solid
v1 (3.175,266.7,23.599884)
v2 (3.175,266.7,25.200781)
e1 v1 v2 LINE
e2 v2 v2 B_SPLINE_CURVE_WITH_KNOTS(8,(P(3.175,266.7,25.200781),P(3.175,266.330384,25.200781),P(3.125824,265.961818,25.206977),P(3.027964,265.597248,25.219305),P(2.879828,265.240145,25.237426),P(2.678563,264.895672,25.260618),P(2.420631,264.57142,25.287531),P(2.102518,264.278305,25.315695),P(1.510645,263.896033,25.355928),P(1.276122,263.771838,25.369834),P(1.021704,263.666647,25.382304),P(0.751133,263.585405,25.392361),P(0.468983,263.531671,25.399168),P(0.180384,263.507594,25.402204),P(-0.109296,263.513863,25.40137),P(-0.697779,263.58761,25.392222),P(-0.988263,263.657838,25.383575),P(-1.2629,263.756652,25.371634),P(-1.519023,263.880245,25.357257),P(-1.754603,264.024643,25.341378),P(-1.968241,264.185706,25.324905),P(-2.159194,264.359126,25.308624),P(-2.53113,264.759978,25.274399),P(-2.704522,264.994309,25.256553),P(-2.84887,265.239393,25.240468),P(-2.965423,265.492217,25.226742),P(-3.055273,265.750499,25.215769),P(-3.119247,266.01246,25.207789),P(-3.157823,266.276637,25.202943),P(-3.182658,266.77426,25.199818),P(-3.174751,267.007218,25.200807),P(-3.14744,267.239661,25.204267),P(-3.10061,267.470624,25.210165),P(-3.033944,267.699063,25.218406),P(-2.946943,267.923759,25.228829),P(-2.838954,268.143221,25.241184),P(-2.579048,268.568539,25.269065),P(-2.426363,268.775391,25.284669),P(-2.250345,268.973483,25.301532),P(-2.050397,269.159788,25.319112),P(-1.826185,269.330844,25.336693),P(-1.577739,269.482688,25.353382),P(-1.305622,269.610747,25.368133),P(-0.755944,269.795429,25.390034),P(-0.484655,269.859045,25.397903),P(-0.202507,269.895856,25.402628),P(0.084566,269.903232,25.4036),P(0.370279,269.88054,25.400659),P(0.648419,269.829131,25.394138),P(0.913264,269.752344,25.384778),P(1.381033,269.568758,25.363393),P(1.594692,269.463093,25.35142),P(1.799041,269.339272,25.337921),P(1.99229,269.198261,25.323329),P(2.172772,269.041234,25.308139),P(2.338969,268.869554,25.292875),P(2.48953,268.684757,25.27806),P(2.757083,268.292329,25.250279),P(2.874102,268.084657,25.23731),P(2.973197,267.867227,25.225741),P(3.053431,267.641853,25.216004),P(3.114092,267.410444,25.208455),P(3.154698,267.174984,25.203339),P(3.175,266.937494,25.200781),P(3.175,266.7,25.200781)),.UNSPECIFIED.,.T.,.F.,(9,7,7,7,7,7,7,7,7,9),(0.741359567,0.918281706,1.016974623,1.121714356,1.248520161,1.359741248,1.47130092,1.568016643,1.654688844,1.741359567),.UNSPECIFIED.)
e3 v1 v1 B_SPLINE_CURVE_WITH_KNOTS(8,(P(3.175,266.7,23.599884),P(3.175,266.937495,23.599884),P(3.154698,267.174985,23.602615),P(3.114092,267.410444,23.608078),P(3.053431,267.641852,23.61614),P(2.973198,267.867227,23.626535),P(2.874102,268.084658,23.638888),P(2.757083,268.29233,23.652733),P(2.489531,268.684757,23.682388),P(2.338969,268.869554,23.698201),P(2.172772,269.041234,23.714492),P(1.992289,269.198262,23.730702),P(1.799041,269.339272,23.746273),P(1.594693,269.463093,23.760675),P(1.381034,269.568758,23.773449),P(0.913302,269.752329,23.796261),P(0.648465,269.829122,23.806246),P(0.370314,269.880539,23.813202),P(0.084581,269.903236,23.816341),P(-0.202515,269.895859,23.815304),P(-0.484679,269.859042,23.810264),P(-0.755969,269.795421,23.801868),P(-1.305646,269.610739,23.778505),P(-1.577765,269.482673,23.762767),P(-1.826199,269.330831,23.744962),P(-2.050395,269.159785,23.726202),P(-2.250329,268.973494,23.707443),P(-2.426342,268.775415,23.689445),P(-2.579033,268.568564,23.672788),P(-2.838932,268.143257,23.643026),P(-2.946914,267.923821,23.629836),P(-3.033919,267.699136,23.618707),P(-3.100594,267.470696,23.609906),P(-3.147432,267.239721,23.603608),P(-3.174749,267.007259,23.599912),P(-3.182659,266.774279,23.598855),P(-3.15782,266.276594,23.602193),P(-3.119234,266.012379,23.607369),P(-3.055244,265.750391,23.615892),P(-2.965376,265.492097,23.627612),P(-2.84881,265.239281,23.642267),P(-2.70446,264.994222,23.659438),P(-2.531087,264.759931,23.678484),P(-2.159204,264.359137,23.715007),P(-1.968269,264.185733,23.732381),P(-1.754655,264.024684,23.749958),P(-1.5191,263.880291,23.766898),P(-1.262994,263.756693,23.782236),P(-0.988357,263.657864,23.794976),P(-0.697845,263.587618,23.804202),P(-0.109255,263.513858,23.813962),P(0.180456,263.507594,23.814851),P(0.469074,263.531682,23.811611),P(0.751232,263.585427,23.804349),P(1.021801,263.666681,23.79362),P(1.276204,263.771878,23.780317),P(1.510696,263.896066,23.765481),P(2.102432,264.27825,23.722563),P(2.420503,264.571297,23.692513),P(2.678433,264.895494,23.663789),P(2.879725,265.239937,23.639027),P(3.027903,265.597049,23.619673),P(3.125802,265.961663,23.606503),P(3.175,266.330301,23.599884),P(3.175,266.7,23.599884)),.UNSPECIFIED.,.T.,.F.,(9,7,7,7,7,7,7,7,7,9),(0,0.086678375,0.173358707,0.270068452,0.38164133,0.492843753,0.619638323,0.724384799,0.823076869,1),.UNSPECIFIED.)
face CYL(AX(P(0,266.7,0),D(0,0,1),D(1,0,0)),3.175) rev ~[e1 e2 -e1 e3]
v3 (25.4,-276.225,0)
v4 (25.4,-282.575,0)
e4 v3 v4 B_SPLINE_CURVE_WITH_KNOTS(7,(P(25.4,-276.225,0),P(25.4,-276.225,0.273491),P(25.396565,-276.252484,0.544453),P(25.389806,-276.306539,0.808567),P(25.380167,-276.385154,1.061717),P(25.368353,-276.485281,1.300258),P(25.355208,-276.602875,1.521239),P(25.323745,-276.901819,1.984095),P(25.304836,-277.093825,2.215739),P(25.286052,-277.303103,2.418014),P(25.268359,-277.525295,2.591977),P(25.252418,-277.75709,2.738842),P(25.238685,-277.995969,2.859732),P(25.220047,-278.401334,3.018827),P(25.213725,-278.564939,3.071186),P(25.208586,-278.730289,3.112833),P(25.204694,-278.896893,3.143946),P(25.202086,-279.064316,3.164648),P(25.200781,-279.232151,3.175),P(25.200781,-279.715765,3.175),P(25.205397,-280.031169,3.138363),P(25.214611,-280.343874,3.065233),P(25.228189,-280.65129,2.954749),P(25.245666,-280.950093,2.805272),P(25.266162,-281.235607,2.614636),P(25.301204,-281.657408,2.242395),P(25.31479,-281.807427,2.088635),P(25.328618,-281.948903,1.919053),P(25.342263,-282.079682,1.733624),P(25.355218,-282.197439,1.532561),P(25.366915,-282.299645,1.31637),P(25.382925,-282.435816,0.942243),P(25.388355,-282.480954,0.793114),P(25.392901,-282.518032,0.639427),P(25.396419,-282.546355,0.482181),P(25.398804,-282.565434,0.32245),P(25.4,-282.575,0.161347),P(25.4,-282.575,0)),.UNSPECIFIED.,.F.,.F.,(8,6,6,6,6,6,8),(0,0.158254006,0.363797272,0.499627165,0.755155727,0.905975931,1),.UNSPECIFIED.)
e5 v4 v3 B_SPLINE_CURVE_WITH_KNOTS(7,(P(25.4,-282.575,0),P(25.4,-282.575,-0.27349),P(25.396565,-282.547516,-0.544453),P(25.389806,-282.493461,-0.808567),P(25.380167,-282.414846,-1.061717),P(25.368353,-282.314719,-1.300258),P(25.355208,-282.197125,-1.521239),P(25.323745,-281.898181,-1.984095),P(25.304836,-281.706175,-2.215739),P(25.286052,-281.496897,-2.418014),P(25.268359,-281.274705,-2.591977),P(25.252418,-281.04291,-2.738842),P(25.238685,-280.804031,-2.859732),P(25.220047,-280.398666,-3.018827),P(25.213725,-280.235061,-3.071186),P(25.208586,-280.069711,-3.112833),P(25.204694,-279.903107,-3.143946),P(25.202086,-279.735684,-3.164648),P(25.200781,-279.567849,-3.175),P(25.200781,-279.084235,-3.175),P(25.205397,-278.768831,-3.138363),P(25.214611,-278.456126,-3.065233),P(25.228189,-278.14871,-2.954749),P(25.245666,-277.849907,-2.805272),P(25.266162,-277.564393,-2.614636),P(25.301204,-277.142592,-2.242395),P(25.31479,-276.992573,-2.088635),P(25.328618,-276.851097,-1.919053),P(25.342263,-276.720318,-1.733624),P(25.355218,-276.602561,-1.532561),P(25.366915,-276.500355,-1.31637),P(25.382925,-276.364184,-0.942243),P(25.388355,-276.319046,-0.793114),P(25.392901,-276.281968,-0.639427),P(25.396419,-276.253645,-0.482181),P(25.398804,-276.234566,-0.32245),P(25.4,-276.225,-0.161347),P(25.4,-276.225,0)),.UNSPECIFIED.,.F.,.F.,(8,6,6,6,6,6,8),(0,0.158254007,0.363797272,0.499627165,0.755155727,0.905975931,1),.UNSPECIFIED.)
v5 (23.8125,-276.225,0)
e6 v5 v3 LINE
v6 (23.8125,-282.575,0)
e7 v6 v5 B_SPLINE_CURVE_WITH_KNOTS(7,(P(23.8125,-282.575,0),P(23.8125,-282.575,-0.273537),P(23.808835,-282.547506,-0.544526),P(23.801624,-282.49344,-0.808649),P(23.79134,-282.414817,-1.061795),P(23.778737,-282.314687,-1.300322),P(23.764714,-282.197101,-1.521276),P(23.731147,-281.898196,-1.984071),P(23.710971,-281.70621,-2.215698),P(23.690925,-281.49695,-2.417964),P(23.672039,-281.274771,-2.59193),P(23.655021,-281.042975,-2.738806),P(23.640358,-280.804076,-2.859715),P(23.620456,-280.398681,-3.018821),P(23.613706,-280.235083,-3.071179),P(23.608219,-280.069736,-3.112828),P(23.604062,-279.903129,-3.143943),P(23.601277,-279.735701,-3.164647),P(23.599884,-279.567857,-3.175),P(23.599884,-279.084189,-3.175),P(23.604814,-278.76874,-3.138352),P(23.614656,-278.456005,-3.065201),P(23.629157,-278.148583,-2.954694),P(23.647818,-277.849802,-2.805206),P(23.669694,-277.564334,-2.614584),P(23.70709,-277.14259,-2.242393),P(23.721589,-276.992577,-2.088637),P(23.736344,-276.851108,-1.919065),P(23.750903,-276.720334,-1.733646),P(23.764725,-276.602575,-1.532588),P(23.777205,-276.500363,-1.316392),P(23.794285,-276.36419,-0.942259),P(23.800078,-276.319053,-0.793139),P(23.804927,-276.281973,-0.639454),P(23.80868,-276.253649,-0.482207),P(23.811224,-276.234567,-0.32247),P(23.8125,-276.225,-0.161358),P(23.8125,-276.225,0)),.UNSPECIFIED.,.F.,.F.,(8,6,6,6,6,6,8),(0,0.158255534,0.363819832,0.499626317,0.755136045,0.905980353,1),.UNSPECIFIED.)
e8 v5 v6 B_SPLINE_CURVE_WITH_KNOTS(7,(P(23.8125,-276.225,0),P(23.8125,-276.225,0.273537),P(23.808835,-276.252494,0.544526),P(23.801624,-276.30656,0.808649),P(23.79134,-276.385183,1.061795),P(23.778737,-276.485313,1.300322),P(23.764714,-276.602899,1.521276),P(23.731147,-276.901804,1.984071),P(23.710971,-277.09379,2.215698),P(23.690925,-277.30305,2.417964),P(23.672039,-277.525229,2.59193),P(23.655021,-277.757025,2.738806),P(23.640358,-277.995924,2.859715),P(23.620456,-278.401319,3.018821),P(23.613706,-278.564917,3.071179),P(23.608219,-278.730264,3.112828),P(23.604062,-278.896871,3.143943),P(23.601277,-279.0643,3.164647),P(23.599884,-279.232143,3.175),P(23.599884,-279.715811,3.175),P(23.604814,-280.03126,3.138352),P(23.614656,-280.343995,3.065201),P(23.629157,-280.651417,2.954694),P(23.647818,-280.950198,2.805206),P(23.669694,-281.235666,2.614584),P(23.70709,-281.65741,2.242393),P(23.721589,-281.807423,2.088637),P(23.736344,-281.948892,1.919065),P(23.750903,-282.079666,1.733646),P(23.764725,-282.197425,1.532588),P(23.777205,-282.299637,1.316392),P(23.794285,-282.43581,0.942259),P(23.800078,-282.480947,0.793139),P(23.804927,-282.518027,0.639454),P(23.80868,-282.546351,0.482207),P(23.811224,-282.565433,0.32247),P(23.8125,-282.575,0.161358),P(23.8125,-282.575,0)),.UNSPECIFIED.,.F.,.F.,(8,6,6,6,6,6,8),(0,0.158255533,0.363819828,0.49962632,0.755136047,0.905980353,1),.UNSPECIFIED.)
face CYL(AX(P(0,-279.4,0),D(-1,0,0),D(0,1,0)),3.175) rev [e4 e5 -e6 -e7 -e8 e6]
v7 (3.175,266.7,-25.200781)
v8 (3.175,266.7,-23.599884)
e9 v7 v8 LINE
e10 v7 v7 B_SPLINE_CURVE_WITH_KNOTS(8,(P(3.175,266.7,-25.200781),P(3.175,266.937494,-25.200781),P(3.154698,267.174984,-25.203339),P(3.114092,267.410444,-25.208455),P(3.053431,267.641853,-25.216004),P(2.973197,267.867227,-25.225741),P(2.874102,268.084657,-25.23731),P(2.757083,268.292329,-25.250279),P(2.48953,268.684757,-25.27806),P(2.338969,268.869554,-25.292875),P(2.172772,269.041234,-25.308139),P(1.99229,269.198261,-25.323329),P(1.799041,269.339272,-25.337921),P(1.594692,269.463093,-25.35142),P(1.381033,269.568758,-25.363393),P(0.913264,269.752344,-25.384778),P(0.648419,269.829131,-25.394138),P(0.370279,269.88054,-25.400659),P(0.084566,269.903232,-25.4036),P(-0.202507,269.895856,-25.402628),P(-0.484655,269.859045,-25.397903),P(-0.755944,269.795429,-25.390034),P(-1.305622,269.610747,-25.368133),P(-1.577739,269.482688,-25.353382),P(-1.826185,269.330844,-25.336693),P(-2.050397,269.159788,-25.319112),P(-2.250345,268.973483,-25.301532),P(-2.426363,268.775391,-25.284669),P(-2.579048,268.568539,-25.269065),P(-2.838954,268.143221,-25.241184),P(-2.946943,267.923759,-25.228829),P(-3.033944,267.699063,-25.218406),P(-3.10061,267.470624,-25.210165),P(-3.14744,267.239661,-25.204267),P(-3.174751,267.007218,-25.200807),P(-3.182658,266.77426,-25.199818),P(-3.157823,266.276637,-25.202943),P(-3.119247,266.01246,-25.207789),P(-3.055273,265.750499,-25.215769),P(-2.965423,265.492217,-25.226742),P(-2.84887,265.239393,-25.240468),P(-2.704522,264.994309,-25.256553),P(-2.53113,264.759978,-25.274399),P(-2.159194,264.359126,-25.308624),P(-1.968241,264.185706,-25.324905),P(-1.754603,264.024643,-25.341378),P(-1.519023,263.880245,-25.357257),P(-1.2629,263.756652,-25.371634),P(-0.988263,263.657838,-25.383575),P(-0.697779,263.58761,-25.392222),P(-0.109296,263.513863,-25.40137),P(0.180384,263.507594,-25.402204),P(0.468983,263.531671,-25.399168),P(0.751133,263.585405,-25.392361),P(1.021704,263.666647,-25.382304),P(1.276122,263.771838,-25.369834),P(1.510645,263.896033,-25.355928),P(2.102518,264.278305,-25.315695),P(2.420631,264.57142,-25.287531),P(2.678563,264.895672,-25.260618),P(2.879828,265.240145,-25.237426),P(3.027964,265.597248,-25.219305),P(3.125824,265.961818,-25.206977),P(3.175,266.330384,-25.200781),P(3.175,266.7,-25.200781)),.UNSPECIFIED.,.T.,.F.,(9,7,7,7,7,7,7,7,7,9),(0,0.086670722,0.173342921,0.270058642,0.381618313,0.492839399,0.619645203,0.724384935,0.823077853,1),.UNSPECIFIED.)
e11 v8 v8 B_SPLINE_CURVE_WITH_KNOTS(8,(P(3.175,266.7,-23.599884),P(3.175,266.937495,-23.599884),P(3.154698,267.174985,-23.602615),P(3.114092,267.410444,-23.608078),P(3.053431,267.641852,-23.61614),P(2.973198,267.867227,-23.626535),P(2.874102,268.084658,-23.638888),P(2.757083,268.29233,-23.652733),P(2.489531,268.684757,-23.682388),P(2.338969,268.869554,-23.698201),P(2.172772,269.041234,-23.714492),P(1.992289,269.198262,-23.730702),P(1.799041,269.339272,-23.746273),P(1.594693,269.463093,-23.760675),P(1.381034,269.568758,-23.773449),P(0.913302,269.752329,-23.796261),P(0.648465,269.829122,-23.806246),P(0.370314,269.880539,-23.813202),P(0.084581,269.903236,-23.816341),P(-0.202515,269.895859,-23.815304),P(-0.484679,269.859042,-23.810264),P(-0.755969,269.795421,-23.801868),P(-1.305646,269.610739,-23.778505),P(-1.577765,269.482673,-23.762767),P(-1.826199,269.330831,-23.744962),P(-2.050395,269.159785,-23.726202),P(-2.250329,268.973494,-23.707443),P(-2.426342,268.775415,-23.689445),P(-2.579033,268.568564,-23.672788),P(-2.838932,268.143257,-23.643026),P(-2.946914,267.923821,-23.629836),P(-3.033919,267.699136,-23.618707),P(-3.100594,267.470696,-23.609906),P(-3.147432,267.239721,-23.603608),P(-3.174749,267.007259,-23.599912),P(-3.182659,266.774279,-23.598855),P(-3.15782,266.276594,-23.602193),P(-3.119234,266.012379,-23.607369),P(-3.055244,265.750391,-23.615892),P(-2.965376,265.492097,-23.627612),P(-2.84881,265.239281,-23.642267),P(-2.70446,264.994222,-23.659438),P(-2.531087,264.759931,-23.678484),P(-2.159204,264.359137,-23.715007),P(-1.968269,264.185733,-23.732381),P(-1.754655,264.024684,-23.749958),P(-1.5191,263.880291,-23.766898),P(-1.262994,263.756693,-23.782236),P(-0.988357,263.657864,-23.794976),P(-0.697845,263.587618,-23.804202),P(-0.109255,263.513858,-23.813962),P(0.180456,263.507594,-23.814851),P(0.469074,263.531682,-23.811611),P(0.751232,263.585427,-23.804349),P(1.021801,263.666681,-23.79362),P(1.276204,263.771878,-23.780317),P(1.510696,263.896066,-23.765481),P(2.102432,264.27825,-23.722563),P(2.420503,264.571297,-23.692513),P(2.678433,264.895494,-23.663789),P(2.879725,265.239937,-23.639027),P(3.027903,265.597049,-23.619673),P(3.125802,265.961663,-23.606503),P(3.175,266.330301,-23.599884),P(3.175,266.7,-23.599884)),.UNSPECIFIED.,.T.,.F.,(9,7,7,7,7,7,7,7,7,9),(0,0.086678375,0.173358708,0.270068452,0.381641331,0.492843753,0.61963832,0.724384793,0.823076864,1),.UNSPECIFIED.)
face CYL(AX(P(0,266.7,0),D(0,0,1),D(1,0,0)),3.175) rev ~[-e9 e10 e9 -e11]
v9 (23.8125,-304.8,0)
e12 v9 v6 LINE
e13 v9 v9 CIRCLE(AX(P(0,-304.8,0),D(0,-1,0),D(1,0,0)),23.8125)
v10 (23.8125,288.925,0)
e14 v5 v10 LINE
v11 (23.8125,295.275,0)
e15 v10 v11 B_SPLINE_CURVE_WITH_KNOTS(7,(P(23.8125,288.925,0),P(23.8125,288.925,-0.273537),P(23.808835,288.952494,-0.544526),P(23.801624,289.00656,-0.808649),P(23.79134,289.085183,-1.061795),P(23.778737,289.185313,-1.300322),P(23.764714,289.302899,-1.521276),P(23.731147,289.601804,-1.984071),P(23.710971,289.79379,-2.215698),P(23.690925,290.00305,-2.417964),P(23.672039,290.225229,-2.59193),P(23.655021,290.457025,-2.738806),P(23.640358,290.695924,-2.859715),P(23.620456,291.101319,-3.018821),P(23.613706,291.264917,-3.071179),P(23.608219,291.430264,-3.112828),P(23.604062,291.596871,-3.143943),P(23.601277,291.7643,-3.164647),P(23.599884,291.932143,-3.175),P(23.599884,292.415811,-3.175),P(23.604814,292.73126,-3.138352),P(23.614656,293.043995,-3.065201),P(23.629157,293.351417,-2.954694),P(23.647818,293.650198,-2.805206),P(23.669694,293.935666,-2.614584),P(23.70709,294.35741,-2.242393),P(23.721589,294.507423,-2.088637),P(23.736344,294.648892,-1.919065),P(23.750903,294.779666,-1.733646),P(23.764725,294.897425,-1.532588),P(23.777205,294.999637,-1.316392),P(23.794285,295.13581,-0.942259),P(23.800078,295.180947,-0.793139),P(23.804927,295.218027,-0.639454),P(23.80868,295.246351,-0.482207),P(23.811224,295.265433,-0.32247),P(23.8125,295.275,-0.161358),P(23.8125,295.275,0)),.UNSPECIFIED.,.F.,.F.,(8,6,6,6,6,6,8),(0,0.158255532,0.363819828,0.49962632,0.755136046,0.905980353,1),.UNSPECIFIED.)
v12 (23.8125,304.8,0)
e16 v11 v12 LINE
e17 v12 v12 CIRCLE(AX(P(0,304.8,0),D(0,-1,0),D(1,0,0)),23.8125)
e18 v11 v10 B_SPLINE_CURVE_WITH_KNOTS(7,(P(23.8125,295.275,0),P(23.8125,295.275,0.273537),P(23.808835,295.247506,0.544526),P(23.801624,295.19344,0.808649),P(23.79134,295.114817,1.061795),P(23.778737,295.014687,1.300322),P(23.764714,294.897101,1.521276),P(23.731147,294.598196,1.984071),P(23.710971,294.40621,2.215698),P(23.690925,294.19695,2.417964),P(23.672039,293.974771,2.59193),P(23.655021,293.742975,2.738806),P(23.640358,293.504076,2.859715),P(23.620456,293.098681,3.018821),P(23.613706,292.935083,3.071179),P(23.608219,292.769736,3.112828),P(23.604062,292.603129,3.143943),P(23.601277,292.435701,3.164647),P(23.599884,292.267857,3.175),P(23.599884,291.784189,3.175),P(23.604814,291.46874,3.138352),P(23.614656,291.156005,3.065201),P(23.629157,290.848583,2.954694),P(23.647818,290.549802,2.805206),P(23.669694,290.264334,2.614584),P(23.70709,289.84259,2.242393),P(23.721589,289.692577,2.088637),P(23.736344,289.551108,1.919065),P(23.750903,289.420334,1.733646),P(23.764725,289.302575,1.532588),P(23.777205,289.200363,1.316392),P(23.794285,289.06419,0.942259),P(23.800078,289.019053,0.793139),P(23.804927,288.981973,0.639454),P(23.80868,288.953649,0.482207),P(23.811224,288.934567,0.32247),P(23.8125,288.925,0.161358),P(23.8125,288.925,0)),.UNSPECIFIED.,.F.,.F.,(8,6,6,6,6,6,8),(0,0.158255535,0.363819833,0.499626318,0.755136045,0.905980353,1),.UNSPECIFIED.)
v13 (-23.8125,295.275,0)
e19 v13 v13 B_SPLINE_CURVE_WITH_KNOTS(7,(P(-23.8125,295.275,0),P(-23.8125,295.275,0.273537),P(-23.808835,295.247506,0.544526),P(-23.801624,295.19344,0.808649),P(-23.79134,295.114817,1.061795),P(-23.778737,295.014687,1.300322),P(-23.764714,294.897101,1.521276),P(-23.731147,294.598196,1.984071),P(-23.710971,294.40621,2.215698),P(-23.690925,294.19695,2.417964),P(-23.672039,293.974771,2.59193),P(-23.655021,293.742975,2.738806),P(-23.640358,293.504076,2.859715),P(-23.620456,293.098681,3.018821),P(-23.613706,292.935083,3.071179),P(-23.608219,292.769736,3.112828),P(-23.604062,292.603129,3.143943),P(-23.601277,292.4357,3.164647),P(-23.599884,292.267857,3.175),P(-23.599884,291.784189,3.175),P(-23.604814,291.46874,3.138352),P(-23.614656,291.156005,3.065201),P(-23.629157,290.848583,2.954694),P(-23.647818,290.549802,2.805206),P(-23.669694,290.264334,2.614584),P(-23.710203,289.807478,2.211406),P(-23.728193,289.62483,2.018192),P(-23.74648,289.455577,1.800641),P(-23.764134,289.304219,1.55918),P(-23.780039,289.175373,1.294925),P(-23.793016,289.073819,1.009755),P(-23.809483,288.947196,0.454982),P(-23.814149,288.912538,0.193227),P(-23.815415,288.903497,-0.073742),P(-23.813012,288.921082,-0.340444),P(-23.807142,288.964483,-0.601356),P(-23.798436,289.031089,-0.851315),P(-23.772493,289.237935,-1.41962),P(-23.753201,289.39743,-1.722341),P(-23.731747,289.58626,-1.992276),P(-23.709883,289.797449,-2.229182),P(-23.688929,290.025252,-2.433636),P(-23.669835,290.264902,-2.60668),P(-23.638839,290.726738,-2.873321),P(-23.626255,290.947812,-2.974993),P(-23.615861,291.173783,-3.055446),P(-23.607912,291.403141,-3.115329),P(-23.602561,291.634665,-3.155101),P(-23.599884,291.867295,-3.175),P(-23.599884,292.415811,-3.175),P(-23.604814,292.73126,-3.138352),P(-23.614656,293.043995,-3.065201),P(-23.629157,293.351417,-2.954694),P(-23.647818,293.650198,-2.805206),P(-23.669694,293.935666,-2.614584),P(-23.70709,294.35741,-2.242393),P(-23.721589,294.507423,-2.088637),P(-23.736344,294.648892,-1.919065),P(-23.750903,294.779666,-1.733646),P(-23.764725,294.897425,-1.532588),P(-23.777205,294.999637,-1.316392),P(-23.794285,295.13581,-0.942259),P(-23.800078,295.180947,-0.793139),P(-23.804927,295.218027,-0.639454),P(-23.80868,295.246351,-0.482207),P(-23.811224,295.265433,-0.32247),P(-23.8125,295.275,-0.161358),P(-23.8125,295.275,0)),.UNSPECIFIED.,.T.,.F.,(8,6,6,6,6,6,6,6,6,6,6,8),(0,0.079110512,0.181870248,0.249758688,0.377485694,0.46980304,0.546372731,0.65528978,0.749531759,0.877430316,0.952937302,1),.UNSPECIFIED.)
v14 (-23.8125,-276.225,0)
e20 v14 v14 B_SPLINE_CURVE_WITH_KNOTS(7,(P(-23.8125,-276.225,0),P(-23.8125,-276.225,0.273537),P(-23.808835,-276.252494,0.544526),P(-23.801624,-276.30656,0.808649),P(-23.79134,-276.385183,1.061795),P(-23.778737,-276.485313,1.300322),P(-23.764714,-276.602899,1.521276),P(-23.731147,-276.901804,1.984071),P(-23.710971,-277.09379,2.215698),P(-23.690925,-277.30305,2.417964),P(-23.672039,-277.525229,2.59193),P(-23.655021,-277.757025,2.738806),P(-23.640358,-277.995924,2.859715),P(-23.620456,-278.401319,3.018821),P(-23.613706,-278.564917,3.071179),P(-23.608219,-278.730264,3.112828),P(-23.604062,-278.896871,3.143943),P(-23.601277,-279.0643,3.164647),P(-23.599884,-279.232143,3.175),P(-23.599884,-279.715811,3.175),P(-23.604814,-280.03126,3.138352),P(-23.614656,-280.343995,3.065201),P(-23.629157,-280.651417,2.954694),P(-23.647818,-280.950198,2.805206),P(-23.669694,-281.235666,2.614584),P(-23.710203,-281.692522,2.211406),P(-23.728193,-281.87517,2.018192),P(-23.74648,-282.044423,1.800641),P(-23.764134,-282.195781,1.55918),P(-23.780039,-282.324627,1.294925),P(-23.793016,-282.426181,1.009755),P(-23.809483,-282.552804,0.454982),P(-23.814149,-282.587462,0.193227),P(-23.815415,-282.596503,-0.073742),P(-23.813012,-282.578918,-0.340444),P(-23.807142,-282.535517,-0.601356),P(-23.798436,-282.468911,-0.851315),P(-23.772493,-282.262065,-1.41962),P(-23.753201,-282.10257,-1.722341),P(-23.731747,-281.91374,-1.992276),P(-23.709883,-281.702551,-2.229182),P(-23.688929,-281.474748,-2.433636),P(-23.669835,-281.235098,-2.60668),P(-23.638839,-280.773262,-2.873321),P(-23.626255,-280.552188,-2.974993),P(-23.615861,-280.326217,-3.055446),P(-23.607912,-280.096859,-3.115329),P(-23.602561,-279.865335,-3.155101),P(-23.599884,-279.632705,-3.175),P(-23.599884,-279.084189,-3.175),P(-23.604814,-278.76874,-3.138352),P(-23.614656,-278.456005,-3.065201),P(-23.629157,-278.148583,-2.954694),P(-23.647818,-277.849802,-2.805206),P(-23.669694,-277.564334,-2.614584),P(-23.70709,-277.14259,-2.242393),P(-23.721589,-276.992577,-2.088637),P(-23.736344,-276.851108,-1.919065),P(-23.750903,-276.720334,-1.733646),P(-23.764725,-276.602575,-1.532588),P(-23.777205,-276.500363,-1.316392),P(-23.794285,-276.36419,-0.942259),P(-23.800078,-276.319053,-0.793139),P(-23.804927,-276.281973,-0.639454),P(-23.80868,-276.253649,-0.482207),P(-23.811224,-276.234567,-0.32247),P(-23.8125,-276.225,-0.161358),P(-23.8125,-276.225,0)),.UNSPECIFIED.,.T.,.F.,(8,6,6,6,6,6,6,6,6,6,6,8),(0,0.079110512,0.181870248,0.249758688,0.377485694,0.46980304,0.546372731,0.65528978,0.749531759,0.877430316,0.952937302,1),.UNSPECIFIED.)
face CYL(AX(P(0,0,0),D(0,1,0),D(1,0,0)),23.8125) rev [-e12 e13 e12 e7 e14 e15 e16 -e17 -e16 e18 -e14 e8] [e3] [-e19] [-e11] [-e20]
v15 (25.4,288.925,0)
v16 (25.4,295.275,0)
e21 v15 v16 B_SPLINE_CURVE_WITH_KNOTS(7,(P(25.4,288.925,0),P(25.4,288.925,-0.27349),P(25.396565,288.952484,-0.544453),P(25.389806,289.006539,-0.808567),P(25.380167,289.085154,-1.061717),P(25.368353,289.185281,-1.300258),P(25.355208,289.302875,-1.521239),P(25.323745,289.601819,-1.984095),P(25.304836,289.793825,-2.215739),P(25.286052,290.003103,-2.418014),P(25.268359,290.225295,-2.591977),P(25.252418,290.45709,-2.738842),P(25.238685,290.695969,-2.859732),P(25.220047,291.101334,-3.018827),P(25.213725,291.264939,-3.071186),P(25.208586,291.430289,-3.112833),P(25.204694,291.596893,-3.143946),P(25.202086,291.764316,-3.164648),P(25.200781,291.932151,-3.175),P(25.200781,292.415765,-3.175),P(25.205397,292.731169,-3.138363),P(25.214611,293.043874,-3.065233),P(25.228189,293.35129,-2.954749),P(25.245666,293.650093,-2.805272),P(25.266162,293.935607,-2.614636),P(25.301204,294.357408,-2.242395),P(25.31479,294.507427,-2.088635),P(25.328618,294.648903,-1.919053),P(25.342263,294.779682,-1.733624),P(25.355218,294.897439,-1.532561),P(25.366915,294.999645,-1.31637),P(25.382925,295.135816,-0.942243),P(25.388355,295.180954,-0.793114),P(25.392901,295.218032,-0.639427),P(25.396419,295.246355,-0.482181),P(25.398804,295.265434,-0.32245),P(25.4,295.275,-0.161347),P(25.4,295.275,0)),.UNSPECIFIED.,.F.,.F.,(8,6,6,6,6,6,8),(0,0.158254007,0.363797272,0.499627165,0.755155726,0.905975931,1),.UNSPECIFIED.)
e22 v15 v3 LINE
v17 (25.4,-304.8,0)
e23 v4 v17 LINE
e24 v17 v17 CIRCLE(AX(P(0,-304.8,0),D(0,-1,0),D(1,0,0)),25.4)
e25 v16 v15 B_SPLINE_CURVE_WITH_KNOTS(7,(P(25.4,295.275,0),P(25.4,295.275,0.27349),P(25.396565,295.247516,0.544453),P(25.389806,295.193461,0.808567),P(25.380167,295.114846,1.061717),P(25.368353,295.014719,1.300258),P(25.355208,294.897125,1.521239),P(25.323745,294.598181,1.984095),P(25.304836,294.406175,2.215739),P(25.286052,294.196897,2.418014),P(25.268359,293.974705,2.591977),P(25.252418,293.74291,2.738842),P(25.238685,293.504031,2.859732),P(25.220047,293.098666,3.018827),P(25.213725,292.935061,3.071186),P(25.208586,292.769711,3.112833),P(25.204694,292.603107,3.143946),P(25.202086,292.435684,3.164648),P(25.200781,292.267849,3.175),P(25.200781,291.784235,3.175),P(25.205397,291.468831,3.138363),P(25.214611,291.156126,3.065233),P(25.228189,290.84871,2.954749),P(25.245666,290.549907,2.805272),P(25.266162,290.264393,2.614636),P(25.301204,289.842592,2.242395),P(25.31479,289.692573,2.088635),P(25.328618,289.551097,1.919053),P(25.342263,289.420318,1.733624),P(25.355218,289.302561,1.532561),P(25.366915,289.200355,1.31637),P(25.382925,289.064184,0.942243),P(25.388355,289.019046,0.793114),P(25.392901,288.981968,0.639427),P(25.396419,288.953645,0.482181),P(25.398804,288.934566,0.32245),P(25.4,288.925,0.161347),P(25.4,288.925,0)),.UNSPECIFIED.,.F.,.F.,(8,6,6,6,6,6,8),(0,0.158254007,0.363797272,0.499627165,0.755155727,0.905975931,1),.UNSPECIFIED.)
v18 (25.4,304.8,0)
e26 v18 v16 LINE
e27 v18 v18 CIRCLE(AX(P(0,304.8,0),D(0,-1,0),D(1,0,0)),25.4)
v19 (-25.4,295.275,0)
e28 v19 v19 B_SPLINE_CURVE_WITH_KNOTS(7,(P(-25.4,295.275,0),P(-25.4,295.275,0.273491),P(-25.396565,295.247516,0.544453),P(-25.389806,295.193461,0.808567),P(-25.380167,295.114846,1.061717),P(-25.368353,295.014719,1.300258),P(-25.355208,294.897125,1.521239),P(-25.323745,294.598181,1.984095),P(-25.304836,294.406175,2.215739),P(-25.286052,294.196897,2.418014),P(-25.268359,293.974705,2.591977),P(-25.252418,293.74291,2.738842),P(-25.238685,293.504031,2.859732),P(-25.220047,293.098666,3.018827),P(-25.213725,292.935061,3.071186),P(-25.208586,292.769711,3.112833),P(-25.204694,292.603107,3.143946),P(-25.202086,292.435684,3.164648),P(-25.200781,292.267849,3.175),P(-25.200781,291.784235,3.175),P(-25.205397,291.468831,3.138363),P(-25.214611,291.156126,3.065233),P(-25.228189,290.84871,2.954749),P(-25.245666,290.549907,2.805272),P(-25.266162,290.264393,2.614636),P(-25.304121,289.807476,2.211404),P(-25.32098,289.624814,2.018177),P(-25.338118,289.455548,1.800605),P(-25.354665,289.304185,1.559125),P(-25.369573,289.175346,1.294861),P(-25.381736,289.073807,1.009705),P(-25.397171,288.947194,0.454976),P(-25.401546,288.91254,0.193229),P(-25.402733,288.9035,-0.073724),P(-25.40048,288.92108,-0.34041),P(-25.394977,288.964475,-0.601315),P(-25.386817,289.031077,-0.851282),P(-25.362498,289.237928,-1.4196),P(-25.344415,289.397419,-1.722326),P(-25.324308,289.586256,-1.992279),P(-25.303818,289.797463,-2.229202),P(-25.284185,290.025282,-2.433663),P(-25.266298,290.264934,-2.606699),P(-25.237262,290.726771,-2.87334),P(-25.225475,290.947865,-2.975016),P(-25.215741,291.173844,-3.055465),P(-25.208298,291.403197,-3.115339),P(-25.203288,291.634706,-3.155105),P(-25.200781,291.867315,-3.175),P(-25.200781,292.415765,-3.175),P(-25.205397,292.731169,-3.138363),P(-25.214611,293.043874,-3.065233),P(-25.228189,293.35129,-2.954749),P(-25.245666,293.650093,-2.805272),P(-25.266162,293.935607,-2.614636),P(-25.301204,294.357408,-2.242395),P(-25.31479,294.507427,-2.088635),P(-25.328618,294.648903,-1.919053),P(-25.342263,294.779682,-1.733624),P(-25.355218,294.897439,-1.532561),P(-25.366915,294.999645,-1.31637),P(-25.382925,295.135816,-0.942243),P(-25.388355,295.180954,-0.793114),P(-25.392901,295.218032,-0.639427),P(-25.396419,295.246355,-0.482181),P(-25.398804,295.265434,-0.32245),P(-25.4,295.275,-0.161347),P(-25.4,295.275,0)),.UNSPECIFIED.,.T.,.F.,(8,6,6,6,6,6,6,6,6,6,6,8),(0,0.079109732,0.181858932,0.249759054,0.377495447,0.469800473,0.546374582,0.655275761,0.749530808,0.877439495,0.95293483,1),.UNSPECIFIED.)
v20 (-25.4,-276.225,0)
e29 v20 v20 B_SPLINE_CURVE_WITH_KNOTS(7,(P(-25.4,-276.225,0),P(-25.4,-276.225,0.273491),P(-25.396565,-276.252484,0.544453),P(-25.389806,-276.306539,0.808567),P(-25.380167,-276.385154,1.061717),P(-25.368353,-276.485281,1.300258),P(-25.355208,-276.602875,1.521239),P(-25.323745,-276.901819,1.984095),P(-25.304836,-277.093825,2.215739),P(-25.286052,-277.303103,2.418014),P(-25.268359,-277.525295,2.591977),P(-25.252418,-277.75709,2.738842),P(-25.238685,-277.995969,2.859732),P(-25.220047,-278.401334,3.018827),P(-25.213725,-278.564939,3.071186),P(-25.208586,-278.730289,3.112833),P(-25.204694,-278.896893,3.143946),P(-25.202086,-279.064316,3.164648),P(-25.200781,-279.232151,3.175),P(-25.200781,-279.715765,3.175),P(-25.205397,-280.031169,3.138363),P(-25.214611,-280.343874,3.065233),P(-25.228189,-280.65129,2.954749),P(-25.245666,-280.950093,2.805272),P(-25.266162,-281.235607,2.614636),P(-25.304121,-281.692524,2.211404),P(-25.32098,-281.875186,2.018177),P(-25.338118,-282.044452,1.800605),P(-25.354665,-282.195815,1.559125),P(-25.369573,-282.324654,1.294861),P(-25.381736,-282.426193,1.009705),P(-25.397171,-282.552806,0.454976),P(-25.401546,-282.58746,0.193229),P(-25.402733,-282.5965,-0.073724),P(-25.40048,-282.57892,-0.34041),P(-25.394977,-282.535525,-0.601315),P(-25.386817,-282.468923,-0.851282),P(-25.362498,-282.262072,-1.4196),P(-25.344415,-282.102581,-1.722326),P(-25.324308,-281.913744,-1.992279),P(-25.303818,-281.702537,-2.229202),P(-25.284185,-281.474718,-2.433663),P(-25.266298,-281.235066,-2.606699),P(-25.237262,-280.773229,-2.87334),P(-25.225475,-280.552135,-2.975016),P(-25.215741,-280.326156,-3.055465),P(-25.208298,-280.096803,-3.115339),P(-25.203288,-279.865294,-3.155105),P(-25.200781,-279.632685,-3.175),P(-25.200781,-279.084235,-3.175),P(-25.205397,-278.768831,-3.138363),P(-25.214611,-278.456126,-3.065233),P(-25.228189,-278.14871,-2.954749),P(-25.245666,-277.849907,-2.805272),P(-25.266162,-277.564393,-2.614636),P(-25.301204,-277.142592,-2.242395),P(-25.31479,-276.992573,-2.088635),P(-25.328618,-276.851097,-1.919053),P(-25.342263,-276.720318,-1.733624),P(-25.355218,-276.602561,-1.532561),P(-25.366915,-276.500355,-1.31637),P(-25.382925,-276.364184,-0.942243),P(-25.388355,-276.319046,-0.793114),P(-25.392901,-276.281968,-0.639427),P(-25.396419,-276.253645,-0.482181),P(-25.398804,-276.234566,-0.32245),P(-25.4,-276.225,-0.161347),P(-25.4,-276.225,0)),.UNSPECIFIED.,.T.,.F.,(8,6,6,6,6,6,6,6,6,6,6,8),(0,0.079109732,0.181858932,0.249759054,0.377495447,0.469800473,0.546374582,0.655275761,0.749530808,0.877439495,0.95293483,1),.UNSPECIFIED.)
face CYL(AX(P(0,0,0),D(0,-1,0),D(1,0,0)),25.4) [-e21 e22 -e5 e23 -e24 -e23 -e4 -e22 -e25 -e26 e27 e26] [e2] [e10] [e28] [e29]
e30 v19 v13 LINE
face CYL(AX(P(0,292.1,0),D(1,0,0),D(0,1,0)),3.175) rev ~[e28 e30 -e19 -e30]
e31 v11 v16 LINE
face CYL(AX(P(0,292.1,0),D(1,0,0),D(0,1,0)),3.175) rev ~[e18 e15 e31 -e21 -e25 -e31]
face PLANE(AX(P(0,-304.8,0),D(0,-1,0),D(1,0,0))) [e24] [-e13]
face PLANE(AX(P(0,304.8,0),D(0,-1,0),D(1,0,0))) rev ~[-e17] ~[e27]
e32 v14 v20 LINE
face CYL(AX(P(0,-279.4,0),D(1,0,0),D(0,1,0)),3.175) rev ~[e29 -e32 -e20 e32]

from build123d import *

# Parameters (mm, degrees)
F0_R     = 25.4
F0_R_2   = 23.8125
F1_DEPTH = 304.8
F2_R     = 3.175
F3_DEPTH = 25.4
F4_R     = 3.175
F5_DEPTH = 25.4


with BuildPart() as f1:
    # F0 (on Front) → F1 (new body, symmetric)
    with BuildSketch(Plane.XZ):
        Circle(F0_R)
        Circle(F0_R_2, mode=Mode.SUBTRACT)
    extrude(amount=F1_DEPTH, both=True)

    # F2 (on Right) → F3 (cut, symmetric)
    with BuildSketch(Plane.YZ):
        with Locations((-279.4, 0)):
            Circle(F2_R)
        with Locations((292.1, 0)):
            Circle(F2_R)
    extrude(amount=F3_DEPTH, both=True, mode=Mode.SUBTRACT)

    # F4 (on Top) → F5 (cut, symmetric)
    with BuildSketch(Plane.XY):
        with Locations((0, 266.7)):
            Circle(F4_R)
    extrude(amount=F5_DEPTH, both=True, mode=Mode.SUBTRACT)


solid = f1.part
